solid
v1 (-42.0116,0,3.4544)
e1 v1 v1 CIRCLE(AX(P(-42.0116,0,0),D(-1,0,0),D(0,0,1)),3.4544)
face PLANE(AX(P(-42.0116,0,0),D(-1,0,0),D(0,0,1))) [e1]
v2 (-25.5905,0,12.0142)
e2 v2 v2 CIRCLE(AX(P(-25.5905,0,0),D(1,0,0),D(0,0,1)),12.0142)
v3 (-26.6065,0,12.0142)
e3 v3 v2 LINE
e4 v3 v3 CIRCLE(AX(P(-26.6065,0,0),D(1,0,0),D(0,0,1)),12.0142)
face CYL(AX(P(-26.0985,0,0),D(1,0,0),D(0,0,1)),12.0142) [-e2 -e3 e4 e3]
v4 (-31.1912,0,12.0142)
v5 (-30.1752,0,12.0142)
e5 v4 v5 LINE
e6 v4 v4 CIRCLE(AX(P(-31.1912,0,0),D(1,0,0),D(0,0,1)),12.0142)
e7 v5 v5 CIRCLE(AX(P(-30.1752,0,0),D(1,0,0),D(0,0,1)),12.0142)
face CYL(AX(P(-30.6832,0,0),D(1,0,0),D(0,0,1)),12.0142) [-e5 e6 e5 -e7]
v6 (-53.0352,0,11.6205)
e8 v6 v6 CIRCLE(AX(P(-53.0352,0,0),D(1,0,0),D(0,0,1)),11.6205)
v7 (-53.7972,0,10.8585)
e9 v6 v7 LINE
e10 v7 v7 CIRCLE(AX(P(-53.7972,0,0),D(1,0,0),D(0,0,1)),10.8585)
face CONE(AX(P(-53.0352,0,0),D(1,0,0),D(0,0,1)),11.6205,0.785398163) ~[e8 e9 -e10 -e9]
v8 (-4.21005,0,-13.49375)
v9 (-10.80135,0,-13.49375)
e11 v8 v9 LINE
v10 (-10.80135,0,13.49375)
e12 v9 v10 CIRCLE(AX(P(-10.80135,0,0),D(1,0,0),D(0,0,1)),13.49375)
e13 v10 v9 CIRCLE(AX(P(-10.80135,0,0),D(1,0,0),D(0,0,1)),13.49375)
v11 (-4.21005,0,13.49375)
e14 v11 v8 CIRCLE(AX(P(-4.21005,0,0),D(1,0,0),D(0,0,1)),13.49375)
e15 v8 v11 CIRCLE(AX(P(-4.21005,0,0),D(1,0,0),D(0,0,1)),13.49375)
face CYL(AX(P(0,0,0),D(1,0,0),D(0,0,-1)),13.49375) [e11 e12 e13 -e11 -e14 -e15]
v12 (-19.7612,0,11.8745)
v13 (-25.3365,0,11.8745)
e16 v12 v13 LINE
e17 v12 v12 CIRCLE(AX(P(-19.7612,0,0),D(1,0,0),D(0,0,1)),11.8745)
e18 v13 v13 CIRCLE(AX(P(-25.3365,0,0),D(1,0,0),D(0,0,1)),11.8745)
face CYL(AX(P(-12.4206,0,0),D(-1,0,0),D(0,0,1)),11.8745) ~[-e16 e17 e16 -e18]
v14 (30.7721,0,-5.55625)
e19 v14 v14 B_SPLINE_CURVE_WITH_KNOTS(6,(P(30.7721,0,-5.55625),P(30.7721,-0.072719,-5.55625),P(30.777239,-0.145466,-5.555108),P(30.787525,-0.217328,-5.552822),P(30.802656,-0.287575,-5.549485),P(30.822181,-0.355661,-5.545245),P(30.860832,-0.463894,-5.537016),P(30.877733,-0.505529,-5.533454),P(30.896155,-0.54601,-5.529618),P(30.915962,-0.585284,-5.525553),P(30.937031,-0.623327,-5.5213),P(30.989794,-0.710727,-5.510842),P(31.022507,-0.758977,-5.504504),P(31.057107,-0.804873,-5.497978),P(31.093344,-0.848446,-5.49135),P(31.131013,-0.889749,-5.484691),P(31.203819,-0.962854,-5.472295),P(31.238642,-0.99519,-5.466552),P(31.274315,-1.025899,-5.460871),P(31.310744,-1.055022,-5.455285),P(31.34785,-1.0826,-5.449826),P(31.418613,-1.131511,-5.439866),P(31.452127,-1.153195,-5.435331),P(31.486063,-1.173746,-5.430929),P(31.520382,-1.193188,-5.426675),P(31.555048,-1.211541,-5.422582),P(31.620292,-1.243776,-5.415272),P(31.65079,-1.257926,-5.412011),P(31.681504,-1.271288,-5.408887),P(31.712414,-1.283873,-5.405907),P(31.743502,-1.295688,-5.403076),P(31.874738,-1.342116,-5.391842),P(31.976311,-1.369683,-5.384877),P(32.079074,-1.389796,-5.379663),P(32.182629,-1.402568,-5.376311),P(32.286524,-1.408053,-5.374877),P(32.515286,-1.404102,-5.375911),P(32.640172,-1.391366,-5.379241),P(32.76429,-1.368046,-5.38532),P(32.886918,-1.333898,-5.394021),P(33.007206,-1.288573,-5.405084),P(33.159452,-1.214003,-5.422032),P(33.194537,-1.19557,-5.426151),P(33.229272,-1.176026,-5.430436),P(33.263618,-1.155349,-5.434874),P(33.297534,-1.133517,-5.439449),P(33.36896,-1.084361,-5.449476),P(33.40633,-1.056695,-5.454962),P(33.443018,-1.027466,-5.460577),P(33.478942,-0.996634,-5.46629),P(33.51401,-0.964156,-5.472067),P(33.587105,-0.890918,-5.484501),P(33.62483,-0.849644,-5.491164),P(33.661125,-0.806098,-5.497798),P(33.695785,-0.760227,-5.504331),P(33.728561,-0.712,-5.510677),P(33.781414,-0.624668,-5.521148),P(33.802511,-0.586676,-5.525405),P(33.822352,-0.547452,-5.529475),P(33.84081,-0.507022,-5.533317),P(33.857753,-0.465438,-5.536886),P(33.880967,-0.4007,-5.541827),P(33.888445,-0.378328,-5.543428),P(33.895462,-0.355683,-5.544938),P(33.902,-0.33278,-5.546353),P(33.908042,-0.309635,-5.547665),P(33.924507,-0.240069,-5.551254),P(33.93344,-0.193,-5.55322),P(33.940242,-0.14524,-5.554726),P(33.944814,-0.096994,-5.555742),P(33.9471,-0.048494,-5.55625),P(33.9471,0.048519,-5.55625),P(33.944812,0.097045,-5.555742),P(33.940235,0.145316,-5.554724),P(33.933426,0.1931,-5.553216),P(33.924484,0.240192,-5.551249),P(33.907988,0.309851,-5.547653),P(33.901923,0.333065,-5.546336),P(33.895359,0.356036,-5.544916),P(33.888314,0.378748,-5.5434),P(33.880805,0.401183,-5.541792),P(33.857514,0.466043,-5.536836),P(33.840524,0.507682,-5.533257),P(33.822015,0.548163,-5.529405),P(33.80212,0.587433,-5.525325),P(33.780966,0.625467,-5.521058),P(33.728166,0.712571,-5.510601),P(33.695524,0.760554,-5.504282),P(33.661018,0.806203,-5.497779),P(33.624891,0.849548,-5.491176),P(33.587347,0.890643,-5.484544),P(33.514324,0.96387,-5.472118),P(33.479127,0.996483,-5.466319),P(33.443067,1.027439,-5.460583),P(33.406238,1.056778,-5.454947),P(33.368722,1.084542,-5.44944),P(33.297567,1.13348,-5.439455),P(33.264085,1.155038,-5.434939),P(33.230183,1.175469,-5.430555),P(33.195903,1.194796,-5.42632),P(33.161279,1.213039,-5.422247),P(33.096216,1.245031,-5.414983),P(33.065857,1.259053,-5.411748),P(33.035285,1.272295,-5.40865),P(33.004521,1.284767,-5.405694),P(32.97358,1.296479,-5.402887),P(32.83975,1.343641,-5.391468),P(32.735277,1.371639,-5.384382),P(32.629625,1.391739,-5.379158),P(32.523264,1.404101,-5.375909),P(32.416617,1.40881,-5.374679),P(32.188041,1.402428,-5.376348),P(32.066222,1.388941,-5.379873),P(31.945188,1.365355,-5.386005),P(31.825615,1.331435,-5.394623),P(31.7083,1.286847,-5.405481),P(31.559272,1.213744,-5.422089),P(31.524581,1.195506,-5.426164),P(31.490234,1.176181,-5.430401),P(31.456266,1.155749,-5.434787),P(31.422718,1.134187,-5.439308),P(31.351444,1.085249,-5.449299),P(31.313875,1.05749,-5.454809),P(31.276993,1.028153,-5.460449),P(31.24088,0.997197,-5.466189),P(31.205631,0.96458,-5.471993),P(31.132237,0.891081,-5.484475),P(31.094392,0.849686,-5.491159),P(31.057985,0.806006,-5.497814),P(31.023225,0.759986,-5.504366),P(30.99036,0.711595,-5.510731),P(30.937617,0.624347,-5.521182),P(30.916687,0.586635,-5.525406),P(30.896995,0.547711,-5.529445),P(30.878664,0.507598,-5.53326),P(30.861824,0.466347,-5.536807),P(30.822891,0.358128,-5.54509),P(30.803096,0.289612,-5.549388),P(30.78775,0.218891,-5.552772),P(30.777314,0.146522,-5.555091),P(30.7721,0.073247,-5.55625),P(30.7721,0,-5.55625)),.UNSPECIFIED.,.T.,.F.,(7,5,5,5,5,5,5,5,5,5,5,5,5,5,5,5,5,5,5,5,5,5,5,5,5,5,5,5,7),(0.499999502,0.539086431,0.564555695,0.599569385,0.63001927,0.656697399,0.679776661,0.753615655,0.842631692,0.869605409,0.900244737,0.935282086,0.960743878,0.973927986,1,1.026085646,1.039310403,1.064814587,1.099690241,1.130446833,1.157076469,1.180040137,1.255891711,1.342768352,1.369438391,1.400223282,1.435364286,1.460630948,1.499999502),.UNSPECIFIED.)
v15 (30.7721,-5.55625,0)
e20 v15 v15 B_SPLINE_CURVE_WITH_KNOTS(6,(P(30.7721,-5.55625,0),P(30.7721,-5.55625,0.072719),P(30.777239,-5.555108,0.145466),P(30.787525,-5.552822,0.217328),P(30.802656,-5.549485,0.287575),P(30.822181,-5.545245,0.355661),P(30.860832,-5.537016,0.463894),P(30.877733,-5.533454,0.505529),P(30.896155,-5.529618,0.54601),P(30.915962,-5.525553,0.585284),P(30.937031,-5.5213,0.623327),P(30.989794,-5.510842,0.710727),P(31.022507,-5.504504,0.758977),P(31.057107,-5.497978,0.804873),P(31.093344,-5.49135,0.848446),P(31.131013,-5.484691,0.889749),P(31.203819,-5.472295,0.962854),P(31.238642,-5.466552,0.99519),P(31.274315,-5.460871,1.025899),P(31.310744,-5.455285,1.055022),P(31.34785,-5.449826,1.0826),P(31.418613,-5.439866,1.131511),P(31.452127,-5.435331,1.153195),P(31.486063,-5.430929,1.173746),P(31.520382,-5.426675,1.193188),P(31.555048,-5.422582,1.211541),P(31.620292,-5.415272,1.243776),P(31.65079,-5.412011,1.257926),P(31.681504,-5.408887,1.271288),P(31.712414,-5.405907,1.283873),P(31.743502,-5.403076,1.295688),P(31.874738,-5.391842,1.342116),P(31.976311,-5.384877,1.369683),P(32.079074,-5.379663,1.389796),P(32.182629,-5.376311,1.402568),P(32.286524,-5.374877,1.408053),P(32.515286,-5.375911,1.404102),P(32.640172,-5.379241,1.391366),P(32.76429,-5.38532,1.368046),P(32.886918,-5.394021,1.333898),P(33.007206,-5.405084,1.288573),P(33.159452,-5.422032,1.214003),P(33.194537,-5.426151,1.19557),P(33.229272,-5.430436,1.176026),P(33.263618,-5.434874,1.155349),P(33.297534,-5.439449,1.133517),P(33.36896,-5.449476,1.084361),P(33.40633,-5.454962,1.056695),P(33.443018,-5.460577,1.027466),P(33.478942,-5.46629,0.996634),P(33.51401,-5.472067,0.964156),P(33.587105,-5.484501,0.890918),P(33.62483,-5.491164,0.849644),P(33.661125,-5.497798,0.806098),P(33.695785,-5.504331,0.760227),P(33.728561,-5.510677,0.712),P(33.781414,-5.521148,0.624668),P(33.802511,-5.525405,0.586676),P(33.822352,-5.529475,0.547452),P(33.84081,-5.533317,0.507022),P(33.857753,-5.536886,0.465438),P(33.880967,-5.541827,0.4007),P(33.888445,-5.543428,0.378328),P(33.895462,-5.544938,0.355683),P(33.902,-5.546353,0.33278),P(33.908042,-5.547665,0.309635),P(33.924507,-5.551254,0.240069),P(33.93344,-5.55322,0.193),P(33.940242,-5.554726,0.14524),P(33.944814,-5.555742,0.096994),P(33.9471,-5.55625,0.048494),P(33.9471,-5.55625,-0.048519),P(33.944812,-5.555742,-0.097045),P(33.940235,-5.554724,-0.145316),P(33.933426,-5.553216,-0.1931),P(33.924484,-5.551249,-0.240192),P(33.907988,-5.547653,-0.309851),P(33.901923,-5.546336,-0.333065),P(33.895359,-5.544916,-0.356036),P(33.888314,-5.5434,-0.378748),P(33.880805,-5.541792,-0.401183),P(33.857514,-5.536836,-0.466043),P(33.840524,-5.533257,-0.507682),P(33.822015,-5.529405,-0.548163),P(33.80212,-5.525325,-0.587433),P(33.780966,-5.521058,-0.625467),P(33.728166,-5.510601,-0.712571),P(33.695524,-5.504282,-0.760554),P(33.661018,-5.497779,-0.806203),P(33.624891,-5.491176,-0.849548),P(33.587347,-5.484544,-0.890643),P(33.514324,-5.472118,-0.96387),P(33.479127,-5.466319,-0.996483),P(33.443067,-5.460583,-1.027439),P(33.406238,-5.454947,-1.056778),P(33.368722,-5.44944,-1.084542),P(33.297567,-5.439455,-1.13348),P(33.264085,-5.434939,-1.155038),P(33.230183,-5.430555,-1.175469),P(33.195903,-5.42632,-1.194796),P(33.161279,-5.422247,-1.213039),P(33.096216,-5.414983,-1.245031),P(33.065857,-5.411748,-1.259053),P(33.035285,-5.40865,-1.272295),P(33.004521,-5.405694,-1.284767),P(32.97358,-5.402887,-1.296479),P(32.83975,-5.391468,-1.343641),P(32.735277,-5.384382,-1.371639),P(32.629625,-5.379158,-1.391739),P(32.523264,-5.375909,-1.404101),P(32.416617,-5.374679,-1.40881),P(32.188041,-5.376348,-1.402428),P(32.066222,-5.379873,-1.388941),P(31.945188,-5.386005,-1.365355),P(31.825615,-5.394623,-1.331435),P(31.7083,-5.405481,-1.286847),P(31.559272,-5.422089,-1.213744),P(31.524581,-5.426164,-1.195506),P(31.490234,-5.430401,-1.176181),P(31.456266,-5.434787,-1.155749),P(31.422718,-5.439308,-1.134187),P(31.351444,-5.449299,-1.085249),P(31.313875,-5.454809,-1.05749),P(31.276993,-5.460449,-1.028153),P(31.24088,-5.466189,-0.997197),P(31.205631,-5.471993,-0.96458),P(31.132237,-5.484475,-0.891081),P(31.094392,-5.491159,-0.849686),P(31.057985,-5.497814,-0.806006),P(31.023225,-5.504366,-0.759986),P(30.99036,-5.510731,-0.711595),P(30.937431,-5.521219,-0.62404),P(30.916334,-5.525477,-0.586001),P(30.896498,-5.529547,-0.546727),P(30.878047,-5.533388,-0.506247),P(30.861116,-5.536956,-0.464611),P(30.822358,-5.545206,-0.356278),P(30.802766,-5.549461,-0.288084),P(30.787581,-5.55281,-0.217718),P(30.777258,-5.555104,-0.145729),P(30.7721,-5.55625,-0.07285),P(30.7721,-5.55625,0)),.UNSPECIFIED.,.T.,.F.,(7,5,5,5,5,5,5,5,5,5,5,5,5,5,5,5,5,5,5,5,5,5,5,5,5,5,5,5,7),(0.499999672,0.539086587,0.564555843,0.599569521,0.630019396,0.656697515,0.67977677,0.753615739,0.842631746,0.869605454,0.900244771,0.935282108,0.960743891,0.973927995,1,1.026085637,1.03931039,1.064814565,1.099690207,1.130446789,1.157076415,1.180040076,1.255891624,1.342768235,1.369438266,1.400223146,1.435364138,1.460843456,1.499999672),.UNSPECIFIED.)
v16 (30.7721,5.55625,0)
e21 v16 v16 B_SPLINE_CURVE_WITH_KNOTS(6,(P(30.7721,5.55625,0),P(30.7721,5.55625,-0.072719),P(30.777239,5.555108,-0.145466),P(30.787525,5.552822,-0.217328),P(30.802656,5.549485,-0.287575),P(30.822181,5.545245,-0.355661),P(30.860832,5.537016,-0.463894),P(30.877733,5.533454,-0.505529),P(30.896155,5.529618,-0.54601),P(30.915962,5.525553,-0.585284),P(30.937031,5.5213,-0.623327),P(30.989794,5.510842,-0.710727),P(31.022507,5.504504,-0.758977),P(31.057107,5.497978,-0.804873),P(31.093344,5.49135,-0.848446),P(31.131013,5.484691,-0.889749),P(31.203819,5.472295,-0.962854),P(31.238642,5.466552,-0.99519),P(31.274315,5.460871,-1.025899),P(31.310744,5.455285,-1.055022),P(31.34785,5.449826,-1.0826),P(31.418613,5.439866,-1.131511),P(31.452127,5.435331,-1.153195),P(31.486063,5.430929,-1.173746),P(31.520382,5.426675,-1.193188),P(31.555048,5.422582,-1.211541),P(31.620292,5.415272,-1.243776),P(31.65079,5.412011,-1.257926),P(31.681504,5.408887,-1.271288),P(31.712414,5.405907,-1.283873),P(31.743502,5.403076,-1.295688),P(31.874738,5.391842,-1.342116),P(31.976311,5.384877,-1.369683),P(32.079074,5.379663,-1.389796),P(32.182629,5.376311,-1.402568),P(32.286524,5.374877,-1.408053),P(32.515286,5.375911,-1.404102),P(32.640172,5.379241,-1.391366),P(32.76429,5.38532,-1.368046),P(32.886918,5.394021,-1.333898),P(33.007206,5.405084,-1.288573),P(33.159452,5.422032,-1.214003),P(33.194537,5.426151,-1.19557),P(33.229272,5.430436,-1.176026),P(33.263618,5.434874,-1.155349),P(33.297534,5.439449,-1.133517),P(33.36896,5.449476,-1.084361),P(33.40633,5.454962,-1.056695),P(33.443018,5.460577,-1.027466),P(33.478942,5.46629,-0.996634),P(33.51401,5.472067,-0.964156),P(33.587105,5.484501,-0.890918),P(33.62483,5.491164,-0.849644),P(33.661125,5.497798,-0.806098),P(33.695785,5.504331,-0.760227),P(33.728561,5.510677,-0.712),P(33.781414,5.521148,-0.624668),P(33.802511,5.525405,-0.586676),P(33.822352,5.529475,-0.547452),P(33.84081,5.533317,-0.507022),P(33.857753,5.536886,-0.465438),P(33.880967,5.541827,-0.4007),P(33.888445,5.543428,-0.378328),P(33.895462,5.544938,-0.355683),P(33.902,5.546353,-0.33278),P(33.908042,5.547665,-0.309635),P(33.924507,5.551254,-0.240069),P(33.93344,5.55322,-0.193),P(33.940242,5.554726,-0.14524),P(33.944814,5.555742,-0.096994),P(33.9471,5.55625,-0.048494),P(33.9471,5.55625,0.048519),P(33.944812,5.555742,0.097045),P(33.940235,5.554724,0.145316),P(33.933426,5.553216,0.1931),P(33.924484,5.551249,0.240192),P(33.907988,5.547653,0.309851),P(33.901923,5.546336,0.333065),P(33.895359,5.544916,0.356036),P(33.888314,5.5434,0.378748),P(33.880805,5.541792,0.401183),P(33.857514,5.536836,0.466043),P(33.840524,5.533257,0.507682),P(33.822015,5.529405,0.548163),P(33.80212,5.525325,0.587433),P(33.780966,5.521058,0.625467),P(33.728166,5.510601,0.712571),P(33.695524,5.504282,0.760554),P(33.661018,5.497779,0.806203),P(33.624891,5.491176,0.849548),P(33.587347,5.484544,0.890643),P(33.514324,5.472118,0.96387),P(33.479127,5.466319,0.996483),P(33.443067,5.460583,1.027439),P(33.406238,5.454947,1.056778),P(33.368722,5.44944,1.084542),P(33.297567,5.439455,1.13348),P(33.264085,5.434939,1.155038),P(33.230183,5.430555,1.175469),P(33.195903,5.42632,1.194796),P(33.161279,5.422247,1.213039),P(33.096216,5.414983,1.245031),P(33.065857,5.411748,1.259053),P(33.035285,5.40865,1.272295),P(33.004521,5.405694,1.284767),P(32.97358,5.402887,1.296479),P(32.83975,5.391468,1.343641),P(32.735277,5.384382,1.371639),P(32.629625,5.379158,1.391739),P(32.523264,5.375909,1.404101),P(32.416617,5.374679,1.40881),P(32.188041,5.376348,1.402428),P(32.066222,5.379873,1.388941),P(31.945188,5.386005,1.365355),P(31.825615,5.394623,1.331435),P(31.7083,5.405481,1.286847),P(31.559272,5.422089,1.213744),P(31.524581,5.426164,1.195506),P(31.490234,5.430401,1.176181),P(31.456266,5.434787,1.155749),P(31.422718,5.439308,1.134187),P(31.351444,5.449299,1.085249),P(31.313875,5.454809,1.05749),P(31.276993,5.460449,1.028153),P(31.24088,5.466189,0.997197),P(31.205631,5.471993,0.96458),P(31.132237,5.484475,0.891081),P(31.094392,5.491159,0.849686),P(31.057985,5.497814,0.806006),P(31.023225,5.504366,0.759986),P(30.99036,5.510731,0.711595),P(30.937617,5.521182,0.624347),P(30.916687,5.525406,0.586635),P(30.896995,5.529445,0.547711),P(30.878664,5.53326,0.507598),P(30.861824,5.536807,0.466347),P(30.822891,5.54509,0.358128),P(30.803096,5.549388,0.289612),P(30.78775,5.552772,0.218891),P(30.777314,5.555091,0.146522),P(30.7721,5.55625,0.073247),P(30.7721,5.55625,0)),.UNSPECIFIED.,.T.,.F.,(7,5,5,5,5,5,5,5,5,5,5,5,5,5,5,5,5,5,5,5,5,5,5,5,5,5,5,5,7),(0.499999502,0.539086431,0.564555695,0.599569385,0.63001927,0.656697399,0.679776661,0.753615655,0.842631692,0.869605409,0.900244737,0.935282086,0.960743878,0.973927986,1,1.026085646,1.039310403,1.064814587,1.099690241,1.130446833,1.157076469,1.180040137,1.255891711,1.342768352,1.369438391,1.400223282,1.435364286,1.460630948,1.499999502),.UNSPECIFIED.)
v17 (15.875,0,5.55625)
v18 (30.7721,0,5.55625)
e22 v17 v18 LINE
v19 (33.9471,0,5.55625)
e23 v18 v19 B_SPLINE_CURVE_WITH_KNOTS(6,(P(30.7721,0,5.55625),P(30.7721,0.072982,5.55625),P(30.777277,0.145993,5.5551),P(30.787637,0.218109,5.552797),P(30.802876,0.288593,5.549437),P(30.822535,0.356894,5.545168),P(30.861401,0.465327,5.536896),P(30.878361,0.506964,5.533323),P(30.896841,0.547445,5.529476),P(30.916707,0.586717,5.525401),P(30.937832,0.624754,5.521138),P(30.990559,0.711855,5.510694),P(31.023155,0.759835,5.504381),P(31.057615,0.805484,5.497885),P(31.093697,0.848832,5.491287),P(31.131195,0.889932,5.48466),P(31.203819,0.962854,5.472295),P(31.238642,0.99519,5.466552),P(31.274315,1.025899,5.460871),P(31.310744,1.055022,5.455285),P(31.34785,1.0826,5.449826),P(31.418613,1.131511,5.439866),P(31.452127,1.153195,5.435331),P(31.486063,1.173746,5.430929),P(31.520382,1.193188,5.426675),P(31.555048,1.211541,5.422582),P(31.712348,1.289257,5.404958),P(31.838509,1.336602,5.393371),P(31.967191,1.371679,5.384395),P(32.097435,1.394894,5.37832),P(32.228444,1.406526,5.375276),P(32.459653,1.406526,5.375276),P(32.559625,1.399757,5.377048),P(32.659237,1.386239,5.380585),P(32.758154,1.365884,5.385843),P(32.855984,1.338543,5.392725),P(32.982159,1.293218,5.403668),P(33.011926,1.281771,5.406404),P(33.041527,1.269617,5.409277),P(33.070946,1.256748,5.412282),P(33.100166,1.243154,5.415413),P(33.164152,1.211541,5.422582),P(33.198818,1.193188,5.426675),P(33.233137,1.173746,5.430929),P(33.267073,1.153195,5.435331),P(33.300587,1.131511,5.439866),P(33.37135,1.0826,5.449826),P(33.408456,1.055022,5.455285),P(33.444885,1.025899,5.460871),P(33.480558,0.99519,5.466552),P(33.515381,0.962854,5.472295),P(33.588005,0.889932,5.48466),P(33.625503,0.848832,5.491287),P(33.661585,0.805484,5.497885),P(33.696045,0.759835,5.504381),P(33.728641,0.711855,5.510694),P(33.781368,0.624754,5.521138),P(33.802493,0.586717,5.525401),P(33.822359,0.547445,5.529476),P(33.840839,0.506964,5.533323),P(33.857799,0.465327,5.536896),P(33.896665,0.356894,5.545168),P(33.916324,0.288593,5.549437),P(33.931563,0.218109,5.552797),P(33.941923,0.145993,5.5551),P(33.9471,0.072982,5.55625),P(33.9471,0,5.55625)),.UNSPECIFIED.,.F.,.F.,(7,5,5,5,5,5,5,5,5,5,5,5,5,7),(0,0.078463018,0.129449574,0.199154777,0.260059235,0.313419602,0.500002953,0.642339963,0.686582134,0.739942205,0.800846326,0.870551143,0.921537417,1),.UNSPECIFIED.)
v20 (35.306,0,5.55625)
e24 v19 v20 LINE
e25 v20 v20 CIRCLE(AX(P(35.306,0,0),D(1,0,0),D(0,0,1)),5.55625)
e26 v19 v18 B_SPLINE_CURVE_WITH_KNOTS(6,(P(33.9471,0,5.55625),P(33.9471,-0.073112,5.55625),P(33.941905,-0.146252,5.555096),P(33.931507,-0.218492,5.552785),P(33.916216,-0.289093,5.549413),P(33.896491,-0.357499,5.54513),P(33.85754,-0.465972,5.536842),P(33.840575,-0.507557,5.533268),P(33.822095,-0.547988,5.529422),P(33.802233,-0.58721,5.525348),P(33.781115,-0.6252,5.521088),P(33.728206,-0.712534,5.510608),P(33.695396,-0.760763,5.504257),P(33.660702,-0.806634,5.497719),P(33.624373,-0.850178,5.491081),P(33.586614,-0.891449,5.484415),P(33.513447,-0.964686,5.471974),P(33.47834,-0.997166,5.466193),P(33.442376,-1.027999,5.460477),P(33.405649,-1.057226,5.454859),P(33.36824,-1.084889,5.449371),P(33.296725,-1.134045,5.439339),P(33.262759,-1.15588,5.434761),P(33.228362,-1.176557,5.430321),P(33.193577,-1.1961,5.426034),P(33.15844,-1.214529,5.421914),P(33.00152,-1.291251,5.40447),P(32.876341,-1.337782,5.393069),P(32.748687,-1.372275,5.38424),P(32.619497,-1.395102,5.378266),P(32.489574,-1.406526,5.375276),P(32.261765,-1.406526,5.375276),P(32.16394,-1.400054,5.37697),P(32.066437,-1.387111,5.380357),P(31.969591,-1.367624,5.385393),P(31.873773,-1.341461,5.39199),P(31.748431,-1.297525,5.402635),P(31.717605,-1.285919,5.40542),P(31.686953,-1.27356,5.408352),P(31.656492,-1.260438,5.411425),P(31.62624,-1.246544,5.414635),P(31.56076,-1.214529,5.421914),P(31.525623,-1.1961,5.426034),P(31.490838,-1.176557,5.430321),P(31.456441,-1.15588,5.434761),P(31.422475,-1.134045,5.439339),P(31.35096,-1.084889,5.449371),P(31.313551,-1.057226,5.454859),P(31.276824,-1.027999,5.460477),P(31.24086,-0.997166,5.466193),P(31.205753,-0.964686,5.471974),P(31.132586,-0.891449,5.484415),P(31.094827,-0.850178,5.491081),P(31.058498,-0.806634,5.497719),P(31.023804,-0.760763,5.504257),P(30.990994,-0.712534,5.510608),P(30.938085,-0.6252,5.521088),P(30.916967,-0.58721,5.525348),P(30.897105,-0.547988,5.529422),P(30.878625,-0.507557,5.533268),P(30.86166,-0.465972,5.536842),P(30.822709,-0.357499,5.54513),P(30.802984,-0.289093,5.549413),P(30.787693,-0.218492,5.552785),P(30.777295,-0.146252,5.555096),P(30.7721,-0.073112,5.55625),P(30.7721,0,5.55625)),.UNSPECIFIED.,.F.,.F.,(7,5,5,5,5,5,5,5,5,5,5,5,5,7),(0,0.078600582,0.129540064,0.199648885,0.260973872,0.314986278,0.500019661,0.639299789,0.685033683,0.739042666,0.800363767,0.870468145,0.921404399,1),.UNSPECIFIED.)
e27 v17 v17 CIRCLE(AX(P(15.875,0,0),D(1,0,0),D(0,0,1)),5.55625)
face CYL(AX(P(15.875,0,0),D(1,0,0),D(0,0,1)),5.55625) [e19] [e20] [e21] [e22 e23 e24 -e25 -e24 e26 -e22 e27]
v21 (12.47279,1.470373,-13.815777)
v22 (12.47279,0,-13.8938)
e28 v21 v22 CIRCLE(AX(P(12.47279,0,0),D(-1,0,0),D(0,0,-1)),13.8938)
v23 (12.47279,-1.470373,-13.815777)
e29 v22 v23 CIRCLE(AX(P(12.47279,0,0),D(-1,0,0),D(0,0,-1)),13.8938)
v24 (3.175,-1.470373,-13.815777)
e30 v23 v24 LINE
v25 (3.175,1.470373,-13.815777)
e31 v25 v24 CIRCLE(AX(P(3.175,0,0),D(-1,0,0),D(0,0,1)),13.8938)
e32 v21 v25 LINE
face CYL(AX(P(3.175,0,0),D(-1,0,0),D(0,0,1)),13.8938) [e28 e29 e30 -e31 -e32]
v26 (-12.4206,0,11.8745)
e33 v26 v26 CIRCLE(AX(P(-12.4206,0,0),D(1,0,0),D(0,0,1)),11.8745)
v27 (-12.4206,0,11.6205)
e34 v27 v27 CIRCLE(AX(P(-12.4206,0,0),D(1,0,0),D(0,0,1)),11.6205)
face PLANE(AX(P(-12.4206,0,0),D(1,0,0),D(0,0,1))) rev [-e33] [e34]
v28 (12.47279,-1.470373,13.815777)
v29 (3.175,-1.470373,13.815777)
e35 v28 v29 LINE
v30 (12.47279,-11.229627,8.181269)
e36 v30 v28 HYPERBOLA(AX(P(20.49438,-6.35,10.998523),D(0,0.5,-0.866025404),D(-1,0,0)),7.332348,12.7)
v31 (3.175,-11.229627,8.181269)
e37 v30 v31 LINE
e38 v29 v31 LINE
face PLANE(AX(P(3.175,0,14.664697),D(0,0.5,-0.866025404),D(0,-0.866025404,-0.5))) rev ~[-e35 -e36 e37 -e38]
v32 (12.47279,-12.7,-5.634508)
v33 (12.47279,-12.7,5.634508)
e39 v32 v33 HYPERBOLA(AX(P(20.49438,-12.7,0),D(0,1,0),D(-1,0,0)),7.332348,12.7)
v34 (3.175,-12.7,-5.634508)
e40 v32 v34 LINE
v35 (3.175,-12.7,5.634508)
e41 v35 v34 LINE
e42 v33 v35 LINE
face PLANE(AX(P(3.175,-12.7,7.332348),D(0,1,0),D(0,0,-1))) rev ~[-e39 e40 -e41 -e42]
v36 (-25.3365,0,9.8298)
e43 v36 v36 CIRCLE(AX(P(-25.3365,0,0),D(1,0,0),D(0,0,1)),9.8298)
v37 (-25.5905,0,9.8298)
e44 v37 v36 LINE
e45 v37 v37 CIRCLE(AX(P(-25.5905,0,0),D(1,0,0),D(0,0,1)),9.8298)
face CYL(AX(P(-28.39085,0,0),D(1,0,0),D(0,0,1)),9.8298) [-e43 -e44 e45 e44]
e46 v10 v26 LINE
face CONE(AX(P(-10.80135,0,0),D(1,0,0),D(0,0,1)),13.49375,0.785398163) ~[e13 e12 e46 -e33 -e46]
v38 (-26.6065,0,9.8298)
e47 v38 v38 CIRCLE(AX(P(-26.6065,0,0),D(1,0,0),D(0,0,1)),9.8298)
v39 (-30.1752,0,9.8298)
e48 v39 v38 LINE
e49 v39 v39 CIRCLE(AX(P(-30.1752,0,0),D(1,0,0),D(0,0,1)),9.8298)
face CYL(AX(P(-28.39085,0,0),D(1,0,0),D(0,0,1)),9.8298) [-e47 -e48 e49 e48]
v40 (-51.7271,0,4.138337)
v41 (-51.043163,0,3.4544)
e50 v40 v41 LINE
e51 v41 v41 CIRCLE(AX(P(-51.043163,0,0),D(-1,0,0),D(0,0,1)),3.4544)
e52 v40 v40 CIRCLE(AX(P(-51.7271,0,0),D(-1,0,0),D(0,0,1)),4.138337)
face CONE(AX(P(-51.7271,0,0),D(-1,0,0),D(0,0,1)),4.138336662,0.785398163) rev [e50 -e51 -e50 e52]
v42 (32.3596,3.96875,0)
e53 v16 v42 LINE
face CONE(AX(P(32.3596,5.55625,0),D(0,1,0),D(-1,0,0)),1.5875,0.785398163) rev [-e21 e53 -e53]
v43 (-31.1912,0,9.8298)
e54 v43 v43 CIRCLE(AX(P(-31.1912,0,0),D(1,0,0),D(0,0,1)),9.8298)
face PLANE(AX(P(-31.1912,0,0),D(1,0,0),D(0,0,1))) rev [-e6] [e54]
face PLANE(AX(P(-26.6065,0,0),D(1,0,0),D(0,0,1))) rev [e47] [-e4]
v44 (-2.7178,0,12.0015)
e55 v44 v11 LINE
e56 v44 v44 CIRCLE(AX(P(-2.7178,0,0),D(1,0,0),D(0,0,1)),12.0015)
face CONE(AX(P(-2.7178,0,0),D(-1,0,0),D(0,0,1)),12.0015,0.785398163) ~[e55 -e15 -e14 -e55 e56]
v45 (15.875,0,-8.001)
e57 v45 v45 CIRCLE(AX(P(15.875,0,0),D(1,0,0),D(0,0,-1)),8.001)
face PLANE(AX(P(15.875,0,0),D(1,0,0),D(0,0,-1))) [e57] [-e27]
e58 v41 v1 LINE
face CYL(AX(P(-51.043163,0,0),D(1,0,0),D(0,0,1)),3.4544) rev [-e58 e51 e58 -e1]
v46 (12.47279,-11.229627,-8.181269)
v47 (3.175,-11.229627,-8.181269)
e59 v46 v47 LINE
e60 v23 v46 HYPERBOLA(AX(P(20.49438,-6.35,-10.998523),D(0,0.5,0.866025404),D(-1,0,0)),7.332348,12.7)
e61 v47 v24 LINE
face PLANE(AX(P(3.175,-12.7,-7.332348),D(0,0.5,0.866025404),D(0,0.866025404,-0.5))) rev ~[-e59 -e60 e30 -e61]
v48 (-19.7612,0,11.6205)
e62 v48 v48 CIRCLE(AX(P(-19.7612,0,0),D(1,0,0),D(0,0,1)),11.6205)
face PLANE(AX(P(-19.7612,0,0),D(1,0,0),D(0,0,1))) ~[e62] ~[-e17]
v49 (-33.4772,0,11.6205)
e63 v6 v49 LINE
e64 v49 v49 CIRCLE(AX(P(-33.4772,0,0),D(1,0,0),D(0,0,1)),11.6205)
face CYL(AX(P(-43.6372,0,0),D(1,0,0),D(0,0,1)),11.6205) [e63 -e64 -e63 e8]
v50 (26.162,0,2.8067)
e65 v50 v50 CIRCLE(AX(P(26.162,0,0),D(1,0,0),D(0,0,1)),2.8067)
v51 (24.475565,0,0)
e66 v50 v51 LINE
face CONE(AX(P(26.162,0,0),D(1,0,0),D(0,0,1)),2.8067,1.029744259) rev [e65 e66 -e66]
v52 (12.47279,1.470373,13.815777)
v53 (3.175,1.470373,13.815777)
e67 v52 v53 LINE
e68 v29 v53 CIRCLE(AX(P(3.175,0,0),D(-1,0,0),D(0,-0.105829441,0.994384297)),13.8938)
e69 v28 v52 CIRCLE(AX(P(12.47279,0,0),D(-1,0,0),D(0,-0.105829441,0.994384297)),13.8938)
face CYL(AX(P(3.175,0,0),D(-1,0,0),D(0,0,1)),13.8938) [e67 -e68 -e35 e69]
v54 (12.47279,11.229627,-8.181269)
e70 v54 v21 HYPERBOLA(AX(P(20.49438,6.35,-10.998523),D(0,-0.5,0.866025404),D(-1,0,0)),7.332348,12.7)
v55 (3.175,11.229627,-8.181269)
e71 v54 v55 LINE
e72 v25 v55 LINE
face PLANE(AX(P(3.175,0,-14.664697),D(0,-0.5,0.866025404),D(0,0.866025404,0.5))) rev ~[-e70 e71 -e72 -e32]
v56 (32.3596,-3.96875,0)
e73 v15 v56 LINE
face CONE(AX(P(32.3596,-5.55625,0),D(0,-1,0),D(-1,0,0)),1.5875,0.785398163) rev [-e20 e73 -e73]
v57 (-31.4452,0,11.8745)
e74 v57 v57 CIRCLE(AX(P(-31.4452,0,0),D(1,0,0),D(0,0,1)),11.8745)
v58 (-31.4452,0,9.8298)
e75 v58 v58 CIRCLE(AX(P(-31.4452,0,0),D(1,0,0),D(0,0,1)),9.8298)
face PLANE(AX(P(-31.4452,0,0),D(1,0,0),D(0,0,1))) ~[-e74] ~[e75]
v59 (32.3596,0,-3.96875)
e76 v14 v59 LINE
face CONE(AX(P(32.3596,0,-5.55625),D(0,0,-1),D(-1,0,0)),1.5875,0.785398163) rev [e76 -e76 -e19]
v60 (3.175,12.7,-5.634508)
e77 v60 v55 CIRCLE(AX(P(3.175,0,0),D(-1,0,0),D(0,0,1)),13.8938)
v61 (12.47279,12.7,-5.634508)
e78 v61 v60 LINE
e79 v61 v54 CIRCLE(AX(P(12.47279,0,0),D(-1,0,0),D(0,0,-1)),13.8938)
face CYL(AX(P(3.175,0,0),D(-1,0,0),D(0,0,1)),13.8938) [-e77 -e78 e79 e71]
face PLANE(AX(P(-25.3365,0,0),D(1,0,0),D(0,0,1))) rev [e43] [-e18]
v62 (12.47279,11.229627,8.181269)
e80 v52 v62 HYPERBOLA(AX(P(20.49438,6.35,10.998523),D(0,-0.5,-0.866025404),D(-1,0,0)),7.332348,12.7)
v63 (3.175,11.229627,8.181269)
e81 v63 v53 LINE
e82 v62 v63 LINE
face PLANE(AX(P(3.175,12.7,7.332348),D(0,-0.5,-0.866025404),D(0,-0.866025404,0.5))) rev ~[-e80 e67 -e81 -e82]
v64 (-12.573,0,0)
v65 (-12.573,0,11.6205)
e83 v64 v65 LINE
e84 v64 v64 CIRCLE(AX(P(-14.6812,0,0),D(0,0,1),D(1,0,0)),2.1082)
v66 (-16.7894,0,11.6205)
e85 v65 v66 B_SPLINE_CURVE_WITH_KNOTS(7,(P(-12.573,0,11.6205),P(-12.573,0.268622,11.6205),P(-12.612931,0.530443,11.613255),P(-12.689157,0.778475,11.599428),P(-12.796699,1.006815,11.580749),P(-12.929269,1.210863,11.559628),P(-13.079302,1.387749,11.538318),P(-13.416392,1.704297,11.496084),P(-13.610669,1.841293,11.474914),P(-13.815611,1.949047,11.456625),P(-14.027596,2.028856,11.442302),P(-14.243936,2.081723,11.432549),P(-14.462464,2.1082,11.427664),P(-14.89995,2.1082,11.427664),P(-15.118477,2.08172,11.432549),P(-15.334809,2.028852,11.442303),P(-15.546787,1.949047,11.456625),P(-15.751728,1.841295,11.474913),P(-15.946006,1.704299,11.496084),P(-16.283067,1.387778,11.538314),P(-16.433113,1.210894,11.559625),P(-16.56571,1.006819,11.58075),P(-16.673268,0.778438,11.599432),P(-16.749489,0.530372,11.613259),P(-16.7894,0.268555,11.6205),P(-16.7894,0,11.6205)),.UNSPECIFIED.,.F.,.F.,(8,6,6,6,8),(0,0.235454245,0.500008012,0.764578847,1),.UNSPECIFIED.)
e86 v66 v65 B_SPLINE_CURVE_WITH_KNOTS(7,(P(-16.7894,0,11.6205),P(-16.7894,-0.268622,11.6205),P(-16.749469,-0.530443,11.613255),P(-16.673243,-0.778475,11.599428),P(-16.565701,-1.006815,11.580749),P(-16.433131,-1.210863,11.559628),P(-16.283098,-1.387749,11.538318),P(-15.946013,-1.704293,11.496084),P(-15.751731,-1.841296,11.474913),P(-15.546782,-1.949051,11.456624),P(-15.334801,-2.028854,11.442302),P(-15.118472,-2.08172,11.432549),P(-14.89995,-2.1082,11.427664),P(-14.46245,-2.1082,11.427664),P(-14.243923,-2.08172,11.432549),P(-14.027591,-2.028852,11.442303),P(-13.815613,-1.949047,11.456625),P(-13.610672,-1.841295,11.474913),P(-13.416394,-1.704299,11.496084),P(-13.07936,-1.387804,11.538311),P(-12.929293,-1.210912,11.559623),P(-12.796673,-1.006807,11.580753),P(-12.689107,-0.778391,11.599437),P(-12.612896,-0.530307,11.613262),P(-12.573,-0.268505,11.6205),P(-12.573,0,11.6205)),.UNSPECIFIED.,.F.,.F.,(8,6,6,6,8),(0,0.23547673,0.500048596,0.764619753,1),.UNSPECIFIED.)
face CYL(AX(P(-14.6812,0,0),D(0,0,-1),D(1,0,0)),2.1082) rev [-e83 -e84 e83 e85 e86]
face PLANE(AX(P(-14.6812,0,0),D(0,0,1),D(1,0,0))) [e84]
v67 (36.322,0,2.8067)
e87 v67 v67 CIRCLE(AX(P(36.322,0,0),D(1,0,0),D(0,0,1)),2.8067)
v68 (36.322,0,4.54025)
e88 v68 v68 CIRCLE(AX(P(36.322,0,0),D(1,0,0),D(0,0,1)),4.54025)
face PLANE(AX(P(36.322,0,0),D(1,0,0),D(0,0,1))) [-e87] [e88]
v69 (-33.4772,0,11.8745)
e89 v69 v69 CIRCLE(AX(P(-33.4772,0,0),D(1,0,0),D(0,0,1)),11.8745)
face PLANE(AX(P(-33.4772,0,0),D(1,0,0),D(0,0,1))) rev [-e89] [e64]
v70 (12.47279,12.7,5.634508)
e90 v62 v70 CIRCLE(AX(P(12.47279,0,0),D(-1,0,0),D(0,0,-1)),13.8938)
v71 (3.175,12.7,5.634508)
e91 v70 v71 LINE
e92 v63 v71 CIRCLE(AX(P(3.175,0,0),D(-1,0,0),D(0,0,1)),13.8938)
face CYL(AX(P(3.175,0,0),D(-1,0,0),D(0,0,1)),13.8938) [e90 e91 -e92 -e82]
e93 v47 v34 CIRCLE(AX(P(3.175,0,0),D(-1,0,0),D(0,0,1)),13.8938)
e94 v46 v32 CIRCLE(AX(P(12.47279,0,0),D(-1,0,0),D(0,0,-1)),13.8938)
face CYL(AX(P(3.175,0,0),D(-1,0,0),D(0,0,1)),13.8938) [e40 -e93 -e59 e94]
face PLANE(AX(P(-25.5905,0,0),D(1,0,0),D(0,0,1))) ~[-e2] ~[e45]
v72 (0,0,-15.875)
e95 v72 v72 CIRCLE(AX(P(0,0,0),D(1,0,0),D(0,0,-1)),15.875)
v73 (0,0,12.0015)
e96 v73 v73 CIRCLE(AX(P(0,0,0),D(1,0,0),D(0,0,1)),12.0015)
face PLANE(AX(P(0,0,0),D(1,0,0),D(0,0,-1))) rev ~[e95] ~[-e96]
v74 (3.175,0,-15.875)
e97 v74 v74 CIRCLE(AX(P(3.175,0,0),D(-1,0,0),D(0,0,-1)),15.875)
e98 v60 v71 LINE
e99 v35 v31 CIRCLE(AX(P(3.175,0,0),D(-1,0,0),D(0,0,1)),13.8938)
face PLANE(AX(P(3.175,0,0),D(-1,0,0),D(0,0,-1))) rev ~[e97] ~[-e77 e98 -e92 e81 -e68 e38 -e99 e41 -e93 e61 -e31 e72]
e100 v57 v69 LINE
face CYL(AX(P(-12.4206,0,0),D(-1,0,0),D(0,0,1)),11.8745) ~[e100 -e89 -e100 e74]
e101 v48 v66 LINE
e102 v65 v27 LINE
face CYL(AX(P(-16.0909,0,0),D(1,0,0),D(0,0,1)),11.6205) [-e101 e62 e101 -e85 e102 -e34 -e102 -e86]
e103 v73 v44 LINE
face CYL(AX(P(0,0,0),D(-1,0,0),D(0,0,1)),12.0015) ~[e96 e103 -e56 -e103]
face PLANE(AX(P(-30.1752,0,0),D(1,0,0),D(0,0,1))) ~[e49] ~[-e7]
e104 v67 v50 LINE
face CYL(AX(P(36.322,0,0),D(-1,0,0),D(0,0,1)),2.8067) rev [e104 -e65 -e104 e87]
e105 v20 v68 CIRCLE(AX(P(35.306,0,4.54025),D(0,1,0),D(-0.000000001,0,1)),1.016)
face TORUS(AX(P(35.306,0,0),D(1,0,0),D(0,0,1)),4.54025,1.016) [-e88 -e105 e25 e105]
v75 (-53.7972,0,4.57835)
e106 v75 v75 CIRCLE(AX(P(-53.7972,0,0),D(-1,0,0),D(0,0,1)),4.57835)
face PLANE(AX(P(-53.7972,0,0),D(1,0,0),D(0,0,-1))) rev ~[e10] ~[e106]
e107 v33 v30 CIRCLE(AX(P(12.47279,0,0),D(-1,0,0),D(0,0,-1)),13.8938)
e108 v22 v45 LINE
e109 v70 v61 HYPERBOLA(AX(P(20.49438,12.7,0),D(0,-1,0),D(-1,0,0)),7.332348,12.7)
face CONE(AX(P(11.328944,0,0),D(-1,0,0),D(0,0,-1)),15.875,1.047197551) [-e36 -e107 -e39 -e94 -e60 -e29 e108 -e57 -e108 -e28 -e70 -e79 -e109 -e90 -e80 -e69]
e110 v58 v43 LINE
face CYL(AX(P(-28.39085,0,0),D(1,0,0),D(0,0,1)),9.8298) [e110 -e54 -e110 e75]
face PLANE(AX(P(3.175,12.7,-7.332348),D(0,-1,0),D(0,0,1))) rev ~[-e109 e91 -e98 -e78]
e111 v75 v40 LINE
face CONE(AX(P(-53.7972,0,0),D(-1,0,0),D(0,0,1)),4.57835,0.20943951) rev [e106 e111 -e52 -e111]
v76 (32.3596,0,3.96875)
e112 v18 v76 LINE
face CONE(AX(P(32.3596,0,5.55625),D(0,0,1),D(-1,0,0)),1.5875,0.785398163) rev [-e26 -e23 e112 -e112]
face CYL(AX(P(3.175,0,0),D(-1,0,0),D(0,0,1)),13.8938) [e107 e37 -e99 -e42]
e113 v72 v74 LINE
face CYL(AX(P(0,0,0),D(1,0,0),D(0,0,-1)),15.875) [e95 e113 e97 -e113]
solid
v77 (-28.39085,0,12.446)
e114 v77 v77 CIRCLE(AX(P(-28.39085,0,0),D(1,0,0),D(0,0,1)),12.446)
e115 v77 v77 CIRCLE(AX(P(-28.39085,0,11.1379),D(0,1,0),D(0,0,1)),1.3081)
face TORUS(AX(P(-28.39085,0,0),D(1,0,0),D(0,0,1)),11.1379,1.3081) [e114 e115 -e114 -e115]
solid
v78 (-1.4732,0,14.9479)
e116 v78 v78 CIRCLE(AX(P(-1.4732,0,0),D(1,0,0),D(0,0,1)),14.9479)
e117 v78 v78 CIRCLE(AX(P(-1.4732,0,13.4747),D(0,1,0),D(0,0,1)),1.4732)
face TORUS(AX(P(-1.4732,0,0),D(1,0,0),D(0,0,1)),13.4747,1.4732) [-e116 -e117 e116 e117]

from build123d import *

# Parameters (mm, degrees)
SKETCH1_R           = 15.875
EXTRUDE1_DEPTH      = 15.875
EXTRUDE1_DEPTH_BACK = 53.7972
CUT_EXTRUDE1_REACH  = 55.797
SKETCH2_R           = 15.875
SKETCH2_R_2         = 13.49375
CUT_EXTRUDE3_REACH  = 14.7
SKETCH5_R           = 15.875
CUT_EXTRUDE5_REACH  = 14.7
SKETCH7_R           = 15.875
SKETCH7_R_2         = 13.8938
SKETCH12_W          = 6.1087
SKETCH12_H          = 2.0447
SKETCH14_W          = 0.254
SKETCH14_H          = 20.32
SKETCH14_H_2        = 7.3406
SKETCH15_R          = 1.4732
SKETCH16_W          = 2.1844
SKETCH16_H          = 1.016
SKETCH17_R          = 1.3081
CIRPATTERN1_COUNT   = 4
CHAMFER1_SIZE       = 0.762
SKETCH23_R          = 2.1082
CUT_EXTRUDE7_DEPTH  = 16.875


with BuildPart() as part:
    # Sketch1 → Extrude1 (new body, two sides)
    with BuildSketch(Plane(origin=(0, 0, 0), x_dir=(0, 0, -1), z_dir=(1, 0, 0))) as extrude1_sk:
        Circle(SKETCH1_R)
    extrude(amount=EXTRUDE1_DEPTH)
    extrude(extrude1_sk.sketch, amount=-EXTRUDE1_DEPTH_BACK)

    # Sketch2 → Cut-Extrude1 (cut, up to next)
    with BuildSketch(Plane(origin=(0, 0, 0), x_dir=(0, 0, -1), z_dir=(1, 0, 0)), mode=Mode.PRIVATE) as cut_extrude1_sk1:
        Circle(SKETCH2_R)
        Circle(SKETCH2_R_2, mode=Mode.SUBTRACT)
    cut_extrude1_tool1 = extrude(cut_extrude1_sk1.sketch, amount=-CUT_EXTRUDE1_REACH, mode=Mode.PRIVATE) & part.part
    add(cut_extrude1_tool1.solids().sort_by_distance((0, 0, 15.425987))[0], mode=Mode.SUBTRACT)

    # Sketch3 → Cut-Revolve1 (revolve, cut)
    with BuildSketch(Plane.XY, mode=Mode.PRIVATE) as cut_revolve1_sk:
        Polygon((11.32894398, 15.875), (15.875, 8.001), (15.875, 15.875), align=None)
    revolve(cut_revolve1_sk.sketch.rotate(Axis((-8.14577342, 0, 0), (1, 0, 0)), 270), axis=Axis((-8.14577342, 0, 0), (1, 0, 0)), mode=Mode.SUBTRACT)  # turned: the seam where the file's is

    # Cut-Extrude3: up to this cone (the profile starts inside it)
    cut_extrude3_end = Plane(origin=(3.175, 0, 0), z_dir=(-1, 0, 0)).offset(-17.319378504) * Cone(1.732e-06, 108.283356043, 62.51742376, align=(Align.CENTER, Align.CENTER, Align.MIN), mode=Mode.PRIVATE)
    # Sketch5 → Cut-Extrude3 (cut, up to the surface)
    with BuildSketch(Plane.ZY.offset(-3.175), mode=Mode.PRIVATE) as cut_extrude3_sk1:
        with Locations(Location((0, 0, 0), (0, 0, 180))):  # turned: the seam where the file's is
            Circle(SKETCH5_R)
        Polygon((-7.332348419, 12.7), (7.332348419, 12.7), (14.664696837, 0), (7.332348419, -12.7), (-7.332348419, -12.7), (-14.664696837, 0), align=None, mode=Mode.SUBTRACT)
    cut_extrude3_tool1 = extrude(cut_extrude3_sk1.sketch, amount=-CUT_EXTRUDE3_REACH, mode=Mode.PRIVATE) & cut_extrude3_end
    add(cut_extrude3_tool1.solids().sort_by_distance((3.175, 0, 15.425987))[0], mode=Mode.SUBTRACT)

    # Cut-Extrude5: up to this cone (the profile starts inside it)
    cut_extrude5_end = Plane(origin=(3.175, 0, 0), z_dir=(-1, 0, 0)).offset(-17.319378504) * Cone(1.732e-06, 108.283356043, 62.51742376, align=(Align.CENTER, Align.CENTER, Align.MIN), mode=Mode.PRIVATE)
    # Sketch7 → Cut-Extrude5 (cut, up to the surface)
    with BuildSketch(Plane.ZY.offset(-3.175), mode=Mode.PRIVATE) as cut_extrude5_sk1:
        with Locations(Location((0, 0, 0), (0, 0, 180))):  # turned: the seam where the file's is
            Circle(SKETCH7_R)
        Circle(SKETCH7_R_2, mode=Mode.SUBTRACT)
    cut_extrude5_tool1 = extrude(cut_extrude5_sk1.sketch, amount=-CUT_EXTRUDE5_REACH, mode=Mode.PRIVATE) & cut_extrude5_end
    add(cut_extrude5_tool1.solids().sort_by_distance((3.175, 0, 15.425987))[0], mode=Mode.SUBTRACT)

    # Sketch9 → Cut-Revolve3 (revolve, cut)
    with BuildSketch(Plane.XY, mode=Mode.PRIVATE) as cut_revolve3_sk:
        Polygon((0, 13.49375), (0, 12.0015), (-2.7178, 12.0015), (-4.21005, 13.49375), align=None)
    revolve(cut_revolve3_sk.sketch.rotate(Axis((-4.4205525, 0, 0), (1, 0, 0)), 90), axis=Axis((-4.4205525, 0, 0), (1, 0, 0)), mode=Mode.SUBTRACT)  # turned: the seam where the file's is

    # Sketch10 → Cut-Revolve4 (revolve, cut)
    with BuildSketch(Plane.XY, mode=Mode.PRIVATE) as cut_revolve4_sk:
        Polygon((-10.80135, 13.49375), (-12.4206, 11.8745), (-53.7972, 11.8745), (-53.7972, 13.49375), align=None)
    revolve(cut_revolve4_sk.sketch.rotate(Axis((-55.9469925, 0, 0), (1, 0, 0)), 90), axis=Axis((-55.9469925, 0, 0), (1, 0, 0)), mode=Mode.SUBTRACT)  # turned: the seam where the file's is

    # Sketch12 → Cut-Revolve6 (revolve, cut)
    with BuildSketch(Plane.XY, mode=Mode.PRIVATE) as cut_revolve6_sk:
        with Locations((-28.39085, 10.85215)):
            Rectangle(SKETCH12_W, SKETCH12_H)
    revolve(cut_revolve6_sk.sketch.rotate(Axis((-31.750635, 0, 0), (1, 0, 0)), 90), axis=Axis((-31.750635, 0, 0), (1, 0, 0)), mode=Mode.SUBTRACT)  # turned: the seam where the file's is

    # Sketch14 → Cut-Revolve8 (revolve, cut)
    with BuildSketch(Plane(origin=(0, 0, 0), x_dir=(0, -1, 0), z_dir=(0, 0, 1)), mode=Mode.PRIVATE) as cut_revolve8_sk:
        with Locations((11.7475, -43.6372)):
            Rectangle(SKETCH14_W, SKETCH14_H)
        with Locations((11.7475, -16.0909)):
            Rectangle(SKETCH14_W, SKETCH14_H_2)
    revolve(cut_revolve8_sk.sketch.rotate(Axis((-55.86603, 0, 0), (1, 0, 0)), 270), axis=Axis((-55.86603, 0, 0), (1, 0, 0)), mode=Mode.SUBTRACT)  # turned: the seam where the file's is

    # Sketch16 → Revolve2 (revolve)
    with BuildSketch(Plane(origin=(0, 0, 0), x_dir=(0, -1, 0), z_dir=(0, 0, 1)), mode=Mode.PRIVATE) as revolve2_sk:
        with Locations((10.922, -26.0985)):
            Rectangle(SKETCH16_W, SKETCH16_H)
        with Locations((10.922, -30.6832)):
            Rectangle(SKETCH16_W, SKETCH16_H)
    revolve(revolve2_sk.sketch.rotate(Axis((-31.471235, 0, 0), (1, 0, 0)), 270), axis=Axis((-31.471235, 0, 0), (1, 0, 0)))  # turned: the seam where the file's is

    # S2D0001 → Revolve4 (revolve)
    with BuildSketch(Plane(origin=(0, 0, 0), x_dir=(0, -1, 0), z_dir=(0, 0, 1)), mode=Mode.PRIVATE) as revolve4_sk:
        with BuildLine():
            Line((0, 15.875), (-5.55625, 15.875))
            Line((-5.55625, 15.875), (-5.55625, 35.306))
            ThreePointArc((-5.55625, 35.306), (-5.25867049, 36.02442049), (-4.54025, 36.322))
            Line((-4.54025, 36.322), (0, 36.322))
            Line((0, 36.322), (0, 15.875))
        make_face()
    revolve(revolve4_sk.sketch.rotate(Axis((7.265766347, 0, 0), (1, 0, 0)), 90), axis=Axis((7.265766347, 0, 0), (1, 0, 0)))  # turned: the seam where the file's is

    # Sketch19 → Cut-Revolve9 (revolve, cut)
    with BuildSketch(Plane(origin=(36.322, -2.8067, 0), x_dir=(0, -1, 0), z_dir=(0, 0, 1)), mode=Mode.PRIVATE) as cut_revolve9_sk:
        Polygon((0, 0), (0, -10.16), (-2.8067, -11.846435499), (-2.8067, 0), align=None)
    revolve(cut_revolve9_sk.sketch.rotate(Axis((17.699325537, 0, 0), (1, 0, 0)), 270), axis=Axis((17.699325537, 0, 0), (1, 0, 0)), mode=Mode.SUBTRACT)  # turned: the seam where the file's is

    # S2D0002 → Cut-Revolve10 (revolve, cut)
    with BuildSketch(Plane(origin=(32.3596, 0, -5.55625), x_dir=(1, 0, 0), z_dir=(0, 1, 0)), mode=Mode.PRIVATE) as cut_revolve10_sk:
        Polygon((0, 0), (1.5875, 0), (0, -1.5875), align=None)
    cut_revolve10 = revolve(cut_revolve10_sk.sketch.rotate(Axis((32.3596, 0, -2.191027232), (0, 0, -1)), 180), axis=Axis((32.3596, 0, -2.191027232), (0, 0, -1)), mode=Mode.SUBTRACT)  # turned: the seam where the file's is

    # CirPattern1: Cut-Revolve10 ×4 about axis
    cirpattern1_axis = Axis((7.265766347, 0, 0), (-1, 0, 0))
    for i in range(1, CIRPATTERN1_COUNT):
        add(cut_revolve10.rotate(cirpattern1_axis, i * 360 / CIRPATTERN1_COUNT), mode=Mode.SUBTRACT)

    # Chamfer1
    chamfer1_edges = [part.edges().sort_by_distance(p)[0] for p in [
        (-53.7972, 0, -11.6205),
    ]]
    chamfer(chamfer1_edges, length=CHAMFER1_SIZE)

    # Sketch23 → Cut-Extrude7 (cut, through all)
    with BuildSketch(Plane.XY):
        with Locations((-14.6812, 0)):
            Circle(SKETCH23_R)
    extrude(amount=CUT_EXTRUDE7_DEPTH, mode=Mode.SUBTRACT)

    # Sketch24 → Cut-Revolve11 (revolve, cut)
    with BuildSketch(Plane.XY, mode=Mode.PRIVATE) as cut_revolve11_sk:
        Polygon((-53.7972, 4.57835), (-51.7271, 4.138336662), (-51.043163338, 3.4544), (-42.0116, 3.4544), (-42.0116, 0), (-53.7972, 0), align=None)
    revolve(cut_revolve11_sk.sketch.rotate(Axis((0, 0, 0), (-1, 0, 0)), 270), axis=Axis((0, 0, 0), (-1, 0, 0)), mode=Mode.SUBTRACT)  # turned: the seam where the file's is


with BuildPart() as body_2:
    # Sketch15 → Revolve1 (revolve)
    with BuildSketch(Plane(origin=(0, 0, 0), x_dir=(0, -1, 0), z_dir=(0, 0, 1)), mode=Mode.PRIVATE) as revolve1_sk:
        with Locations((13.4747, -1.4732)):
            Circle(SKETCH15_R)
    revolve(revolve1_sk.sketch.rotate(Axis((-3.09372, 0, 0), (1, 0, 0)), 270), axis=Axis((-3.09372, 0, 0), (1, 0, 0)))  # turned: the seam where the file's is


with BuildPart() as body_3:
    # Sketch17 → Revolve3 (revolve)
    with BuildSketch(Plane(origin=(0, 0, 0), x_dir=(0, -1, 0), z_dir=(0, 0, 1)), mode=Mode.PRIVATE) as revolve3_sk:
        with Locations((11.1379, -28.39085)):
            Circle(SKETCH17_R)
    revolve(revolve3_sk.sketch.rotate(Axis((-31.750635, 0, 0), (1, 0, 0)), 270), axis=Axis((-31.750635, 0, 0), (1, 0, 0)))  # turned: the seam where the file's is


solid = Compound([part.part, body_2.part, body_3.part])
